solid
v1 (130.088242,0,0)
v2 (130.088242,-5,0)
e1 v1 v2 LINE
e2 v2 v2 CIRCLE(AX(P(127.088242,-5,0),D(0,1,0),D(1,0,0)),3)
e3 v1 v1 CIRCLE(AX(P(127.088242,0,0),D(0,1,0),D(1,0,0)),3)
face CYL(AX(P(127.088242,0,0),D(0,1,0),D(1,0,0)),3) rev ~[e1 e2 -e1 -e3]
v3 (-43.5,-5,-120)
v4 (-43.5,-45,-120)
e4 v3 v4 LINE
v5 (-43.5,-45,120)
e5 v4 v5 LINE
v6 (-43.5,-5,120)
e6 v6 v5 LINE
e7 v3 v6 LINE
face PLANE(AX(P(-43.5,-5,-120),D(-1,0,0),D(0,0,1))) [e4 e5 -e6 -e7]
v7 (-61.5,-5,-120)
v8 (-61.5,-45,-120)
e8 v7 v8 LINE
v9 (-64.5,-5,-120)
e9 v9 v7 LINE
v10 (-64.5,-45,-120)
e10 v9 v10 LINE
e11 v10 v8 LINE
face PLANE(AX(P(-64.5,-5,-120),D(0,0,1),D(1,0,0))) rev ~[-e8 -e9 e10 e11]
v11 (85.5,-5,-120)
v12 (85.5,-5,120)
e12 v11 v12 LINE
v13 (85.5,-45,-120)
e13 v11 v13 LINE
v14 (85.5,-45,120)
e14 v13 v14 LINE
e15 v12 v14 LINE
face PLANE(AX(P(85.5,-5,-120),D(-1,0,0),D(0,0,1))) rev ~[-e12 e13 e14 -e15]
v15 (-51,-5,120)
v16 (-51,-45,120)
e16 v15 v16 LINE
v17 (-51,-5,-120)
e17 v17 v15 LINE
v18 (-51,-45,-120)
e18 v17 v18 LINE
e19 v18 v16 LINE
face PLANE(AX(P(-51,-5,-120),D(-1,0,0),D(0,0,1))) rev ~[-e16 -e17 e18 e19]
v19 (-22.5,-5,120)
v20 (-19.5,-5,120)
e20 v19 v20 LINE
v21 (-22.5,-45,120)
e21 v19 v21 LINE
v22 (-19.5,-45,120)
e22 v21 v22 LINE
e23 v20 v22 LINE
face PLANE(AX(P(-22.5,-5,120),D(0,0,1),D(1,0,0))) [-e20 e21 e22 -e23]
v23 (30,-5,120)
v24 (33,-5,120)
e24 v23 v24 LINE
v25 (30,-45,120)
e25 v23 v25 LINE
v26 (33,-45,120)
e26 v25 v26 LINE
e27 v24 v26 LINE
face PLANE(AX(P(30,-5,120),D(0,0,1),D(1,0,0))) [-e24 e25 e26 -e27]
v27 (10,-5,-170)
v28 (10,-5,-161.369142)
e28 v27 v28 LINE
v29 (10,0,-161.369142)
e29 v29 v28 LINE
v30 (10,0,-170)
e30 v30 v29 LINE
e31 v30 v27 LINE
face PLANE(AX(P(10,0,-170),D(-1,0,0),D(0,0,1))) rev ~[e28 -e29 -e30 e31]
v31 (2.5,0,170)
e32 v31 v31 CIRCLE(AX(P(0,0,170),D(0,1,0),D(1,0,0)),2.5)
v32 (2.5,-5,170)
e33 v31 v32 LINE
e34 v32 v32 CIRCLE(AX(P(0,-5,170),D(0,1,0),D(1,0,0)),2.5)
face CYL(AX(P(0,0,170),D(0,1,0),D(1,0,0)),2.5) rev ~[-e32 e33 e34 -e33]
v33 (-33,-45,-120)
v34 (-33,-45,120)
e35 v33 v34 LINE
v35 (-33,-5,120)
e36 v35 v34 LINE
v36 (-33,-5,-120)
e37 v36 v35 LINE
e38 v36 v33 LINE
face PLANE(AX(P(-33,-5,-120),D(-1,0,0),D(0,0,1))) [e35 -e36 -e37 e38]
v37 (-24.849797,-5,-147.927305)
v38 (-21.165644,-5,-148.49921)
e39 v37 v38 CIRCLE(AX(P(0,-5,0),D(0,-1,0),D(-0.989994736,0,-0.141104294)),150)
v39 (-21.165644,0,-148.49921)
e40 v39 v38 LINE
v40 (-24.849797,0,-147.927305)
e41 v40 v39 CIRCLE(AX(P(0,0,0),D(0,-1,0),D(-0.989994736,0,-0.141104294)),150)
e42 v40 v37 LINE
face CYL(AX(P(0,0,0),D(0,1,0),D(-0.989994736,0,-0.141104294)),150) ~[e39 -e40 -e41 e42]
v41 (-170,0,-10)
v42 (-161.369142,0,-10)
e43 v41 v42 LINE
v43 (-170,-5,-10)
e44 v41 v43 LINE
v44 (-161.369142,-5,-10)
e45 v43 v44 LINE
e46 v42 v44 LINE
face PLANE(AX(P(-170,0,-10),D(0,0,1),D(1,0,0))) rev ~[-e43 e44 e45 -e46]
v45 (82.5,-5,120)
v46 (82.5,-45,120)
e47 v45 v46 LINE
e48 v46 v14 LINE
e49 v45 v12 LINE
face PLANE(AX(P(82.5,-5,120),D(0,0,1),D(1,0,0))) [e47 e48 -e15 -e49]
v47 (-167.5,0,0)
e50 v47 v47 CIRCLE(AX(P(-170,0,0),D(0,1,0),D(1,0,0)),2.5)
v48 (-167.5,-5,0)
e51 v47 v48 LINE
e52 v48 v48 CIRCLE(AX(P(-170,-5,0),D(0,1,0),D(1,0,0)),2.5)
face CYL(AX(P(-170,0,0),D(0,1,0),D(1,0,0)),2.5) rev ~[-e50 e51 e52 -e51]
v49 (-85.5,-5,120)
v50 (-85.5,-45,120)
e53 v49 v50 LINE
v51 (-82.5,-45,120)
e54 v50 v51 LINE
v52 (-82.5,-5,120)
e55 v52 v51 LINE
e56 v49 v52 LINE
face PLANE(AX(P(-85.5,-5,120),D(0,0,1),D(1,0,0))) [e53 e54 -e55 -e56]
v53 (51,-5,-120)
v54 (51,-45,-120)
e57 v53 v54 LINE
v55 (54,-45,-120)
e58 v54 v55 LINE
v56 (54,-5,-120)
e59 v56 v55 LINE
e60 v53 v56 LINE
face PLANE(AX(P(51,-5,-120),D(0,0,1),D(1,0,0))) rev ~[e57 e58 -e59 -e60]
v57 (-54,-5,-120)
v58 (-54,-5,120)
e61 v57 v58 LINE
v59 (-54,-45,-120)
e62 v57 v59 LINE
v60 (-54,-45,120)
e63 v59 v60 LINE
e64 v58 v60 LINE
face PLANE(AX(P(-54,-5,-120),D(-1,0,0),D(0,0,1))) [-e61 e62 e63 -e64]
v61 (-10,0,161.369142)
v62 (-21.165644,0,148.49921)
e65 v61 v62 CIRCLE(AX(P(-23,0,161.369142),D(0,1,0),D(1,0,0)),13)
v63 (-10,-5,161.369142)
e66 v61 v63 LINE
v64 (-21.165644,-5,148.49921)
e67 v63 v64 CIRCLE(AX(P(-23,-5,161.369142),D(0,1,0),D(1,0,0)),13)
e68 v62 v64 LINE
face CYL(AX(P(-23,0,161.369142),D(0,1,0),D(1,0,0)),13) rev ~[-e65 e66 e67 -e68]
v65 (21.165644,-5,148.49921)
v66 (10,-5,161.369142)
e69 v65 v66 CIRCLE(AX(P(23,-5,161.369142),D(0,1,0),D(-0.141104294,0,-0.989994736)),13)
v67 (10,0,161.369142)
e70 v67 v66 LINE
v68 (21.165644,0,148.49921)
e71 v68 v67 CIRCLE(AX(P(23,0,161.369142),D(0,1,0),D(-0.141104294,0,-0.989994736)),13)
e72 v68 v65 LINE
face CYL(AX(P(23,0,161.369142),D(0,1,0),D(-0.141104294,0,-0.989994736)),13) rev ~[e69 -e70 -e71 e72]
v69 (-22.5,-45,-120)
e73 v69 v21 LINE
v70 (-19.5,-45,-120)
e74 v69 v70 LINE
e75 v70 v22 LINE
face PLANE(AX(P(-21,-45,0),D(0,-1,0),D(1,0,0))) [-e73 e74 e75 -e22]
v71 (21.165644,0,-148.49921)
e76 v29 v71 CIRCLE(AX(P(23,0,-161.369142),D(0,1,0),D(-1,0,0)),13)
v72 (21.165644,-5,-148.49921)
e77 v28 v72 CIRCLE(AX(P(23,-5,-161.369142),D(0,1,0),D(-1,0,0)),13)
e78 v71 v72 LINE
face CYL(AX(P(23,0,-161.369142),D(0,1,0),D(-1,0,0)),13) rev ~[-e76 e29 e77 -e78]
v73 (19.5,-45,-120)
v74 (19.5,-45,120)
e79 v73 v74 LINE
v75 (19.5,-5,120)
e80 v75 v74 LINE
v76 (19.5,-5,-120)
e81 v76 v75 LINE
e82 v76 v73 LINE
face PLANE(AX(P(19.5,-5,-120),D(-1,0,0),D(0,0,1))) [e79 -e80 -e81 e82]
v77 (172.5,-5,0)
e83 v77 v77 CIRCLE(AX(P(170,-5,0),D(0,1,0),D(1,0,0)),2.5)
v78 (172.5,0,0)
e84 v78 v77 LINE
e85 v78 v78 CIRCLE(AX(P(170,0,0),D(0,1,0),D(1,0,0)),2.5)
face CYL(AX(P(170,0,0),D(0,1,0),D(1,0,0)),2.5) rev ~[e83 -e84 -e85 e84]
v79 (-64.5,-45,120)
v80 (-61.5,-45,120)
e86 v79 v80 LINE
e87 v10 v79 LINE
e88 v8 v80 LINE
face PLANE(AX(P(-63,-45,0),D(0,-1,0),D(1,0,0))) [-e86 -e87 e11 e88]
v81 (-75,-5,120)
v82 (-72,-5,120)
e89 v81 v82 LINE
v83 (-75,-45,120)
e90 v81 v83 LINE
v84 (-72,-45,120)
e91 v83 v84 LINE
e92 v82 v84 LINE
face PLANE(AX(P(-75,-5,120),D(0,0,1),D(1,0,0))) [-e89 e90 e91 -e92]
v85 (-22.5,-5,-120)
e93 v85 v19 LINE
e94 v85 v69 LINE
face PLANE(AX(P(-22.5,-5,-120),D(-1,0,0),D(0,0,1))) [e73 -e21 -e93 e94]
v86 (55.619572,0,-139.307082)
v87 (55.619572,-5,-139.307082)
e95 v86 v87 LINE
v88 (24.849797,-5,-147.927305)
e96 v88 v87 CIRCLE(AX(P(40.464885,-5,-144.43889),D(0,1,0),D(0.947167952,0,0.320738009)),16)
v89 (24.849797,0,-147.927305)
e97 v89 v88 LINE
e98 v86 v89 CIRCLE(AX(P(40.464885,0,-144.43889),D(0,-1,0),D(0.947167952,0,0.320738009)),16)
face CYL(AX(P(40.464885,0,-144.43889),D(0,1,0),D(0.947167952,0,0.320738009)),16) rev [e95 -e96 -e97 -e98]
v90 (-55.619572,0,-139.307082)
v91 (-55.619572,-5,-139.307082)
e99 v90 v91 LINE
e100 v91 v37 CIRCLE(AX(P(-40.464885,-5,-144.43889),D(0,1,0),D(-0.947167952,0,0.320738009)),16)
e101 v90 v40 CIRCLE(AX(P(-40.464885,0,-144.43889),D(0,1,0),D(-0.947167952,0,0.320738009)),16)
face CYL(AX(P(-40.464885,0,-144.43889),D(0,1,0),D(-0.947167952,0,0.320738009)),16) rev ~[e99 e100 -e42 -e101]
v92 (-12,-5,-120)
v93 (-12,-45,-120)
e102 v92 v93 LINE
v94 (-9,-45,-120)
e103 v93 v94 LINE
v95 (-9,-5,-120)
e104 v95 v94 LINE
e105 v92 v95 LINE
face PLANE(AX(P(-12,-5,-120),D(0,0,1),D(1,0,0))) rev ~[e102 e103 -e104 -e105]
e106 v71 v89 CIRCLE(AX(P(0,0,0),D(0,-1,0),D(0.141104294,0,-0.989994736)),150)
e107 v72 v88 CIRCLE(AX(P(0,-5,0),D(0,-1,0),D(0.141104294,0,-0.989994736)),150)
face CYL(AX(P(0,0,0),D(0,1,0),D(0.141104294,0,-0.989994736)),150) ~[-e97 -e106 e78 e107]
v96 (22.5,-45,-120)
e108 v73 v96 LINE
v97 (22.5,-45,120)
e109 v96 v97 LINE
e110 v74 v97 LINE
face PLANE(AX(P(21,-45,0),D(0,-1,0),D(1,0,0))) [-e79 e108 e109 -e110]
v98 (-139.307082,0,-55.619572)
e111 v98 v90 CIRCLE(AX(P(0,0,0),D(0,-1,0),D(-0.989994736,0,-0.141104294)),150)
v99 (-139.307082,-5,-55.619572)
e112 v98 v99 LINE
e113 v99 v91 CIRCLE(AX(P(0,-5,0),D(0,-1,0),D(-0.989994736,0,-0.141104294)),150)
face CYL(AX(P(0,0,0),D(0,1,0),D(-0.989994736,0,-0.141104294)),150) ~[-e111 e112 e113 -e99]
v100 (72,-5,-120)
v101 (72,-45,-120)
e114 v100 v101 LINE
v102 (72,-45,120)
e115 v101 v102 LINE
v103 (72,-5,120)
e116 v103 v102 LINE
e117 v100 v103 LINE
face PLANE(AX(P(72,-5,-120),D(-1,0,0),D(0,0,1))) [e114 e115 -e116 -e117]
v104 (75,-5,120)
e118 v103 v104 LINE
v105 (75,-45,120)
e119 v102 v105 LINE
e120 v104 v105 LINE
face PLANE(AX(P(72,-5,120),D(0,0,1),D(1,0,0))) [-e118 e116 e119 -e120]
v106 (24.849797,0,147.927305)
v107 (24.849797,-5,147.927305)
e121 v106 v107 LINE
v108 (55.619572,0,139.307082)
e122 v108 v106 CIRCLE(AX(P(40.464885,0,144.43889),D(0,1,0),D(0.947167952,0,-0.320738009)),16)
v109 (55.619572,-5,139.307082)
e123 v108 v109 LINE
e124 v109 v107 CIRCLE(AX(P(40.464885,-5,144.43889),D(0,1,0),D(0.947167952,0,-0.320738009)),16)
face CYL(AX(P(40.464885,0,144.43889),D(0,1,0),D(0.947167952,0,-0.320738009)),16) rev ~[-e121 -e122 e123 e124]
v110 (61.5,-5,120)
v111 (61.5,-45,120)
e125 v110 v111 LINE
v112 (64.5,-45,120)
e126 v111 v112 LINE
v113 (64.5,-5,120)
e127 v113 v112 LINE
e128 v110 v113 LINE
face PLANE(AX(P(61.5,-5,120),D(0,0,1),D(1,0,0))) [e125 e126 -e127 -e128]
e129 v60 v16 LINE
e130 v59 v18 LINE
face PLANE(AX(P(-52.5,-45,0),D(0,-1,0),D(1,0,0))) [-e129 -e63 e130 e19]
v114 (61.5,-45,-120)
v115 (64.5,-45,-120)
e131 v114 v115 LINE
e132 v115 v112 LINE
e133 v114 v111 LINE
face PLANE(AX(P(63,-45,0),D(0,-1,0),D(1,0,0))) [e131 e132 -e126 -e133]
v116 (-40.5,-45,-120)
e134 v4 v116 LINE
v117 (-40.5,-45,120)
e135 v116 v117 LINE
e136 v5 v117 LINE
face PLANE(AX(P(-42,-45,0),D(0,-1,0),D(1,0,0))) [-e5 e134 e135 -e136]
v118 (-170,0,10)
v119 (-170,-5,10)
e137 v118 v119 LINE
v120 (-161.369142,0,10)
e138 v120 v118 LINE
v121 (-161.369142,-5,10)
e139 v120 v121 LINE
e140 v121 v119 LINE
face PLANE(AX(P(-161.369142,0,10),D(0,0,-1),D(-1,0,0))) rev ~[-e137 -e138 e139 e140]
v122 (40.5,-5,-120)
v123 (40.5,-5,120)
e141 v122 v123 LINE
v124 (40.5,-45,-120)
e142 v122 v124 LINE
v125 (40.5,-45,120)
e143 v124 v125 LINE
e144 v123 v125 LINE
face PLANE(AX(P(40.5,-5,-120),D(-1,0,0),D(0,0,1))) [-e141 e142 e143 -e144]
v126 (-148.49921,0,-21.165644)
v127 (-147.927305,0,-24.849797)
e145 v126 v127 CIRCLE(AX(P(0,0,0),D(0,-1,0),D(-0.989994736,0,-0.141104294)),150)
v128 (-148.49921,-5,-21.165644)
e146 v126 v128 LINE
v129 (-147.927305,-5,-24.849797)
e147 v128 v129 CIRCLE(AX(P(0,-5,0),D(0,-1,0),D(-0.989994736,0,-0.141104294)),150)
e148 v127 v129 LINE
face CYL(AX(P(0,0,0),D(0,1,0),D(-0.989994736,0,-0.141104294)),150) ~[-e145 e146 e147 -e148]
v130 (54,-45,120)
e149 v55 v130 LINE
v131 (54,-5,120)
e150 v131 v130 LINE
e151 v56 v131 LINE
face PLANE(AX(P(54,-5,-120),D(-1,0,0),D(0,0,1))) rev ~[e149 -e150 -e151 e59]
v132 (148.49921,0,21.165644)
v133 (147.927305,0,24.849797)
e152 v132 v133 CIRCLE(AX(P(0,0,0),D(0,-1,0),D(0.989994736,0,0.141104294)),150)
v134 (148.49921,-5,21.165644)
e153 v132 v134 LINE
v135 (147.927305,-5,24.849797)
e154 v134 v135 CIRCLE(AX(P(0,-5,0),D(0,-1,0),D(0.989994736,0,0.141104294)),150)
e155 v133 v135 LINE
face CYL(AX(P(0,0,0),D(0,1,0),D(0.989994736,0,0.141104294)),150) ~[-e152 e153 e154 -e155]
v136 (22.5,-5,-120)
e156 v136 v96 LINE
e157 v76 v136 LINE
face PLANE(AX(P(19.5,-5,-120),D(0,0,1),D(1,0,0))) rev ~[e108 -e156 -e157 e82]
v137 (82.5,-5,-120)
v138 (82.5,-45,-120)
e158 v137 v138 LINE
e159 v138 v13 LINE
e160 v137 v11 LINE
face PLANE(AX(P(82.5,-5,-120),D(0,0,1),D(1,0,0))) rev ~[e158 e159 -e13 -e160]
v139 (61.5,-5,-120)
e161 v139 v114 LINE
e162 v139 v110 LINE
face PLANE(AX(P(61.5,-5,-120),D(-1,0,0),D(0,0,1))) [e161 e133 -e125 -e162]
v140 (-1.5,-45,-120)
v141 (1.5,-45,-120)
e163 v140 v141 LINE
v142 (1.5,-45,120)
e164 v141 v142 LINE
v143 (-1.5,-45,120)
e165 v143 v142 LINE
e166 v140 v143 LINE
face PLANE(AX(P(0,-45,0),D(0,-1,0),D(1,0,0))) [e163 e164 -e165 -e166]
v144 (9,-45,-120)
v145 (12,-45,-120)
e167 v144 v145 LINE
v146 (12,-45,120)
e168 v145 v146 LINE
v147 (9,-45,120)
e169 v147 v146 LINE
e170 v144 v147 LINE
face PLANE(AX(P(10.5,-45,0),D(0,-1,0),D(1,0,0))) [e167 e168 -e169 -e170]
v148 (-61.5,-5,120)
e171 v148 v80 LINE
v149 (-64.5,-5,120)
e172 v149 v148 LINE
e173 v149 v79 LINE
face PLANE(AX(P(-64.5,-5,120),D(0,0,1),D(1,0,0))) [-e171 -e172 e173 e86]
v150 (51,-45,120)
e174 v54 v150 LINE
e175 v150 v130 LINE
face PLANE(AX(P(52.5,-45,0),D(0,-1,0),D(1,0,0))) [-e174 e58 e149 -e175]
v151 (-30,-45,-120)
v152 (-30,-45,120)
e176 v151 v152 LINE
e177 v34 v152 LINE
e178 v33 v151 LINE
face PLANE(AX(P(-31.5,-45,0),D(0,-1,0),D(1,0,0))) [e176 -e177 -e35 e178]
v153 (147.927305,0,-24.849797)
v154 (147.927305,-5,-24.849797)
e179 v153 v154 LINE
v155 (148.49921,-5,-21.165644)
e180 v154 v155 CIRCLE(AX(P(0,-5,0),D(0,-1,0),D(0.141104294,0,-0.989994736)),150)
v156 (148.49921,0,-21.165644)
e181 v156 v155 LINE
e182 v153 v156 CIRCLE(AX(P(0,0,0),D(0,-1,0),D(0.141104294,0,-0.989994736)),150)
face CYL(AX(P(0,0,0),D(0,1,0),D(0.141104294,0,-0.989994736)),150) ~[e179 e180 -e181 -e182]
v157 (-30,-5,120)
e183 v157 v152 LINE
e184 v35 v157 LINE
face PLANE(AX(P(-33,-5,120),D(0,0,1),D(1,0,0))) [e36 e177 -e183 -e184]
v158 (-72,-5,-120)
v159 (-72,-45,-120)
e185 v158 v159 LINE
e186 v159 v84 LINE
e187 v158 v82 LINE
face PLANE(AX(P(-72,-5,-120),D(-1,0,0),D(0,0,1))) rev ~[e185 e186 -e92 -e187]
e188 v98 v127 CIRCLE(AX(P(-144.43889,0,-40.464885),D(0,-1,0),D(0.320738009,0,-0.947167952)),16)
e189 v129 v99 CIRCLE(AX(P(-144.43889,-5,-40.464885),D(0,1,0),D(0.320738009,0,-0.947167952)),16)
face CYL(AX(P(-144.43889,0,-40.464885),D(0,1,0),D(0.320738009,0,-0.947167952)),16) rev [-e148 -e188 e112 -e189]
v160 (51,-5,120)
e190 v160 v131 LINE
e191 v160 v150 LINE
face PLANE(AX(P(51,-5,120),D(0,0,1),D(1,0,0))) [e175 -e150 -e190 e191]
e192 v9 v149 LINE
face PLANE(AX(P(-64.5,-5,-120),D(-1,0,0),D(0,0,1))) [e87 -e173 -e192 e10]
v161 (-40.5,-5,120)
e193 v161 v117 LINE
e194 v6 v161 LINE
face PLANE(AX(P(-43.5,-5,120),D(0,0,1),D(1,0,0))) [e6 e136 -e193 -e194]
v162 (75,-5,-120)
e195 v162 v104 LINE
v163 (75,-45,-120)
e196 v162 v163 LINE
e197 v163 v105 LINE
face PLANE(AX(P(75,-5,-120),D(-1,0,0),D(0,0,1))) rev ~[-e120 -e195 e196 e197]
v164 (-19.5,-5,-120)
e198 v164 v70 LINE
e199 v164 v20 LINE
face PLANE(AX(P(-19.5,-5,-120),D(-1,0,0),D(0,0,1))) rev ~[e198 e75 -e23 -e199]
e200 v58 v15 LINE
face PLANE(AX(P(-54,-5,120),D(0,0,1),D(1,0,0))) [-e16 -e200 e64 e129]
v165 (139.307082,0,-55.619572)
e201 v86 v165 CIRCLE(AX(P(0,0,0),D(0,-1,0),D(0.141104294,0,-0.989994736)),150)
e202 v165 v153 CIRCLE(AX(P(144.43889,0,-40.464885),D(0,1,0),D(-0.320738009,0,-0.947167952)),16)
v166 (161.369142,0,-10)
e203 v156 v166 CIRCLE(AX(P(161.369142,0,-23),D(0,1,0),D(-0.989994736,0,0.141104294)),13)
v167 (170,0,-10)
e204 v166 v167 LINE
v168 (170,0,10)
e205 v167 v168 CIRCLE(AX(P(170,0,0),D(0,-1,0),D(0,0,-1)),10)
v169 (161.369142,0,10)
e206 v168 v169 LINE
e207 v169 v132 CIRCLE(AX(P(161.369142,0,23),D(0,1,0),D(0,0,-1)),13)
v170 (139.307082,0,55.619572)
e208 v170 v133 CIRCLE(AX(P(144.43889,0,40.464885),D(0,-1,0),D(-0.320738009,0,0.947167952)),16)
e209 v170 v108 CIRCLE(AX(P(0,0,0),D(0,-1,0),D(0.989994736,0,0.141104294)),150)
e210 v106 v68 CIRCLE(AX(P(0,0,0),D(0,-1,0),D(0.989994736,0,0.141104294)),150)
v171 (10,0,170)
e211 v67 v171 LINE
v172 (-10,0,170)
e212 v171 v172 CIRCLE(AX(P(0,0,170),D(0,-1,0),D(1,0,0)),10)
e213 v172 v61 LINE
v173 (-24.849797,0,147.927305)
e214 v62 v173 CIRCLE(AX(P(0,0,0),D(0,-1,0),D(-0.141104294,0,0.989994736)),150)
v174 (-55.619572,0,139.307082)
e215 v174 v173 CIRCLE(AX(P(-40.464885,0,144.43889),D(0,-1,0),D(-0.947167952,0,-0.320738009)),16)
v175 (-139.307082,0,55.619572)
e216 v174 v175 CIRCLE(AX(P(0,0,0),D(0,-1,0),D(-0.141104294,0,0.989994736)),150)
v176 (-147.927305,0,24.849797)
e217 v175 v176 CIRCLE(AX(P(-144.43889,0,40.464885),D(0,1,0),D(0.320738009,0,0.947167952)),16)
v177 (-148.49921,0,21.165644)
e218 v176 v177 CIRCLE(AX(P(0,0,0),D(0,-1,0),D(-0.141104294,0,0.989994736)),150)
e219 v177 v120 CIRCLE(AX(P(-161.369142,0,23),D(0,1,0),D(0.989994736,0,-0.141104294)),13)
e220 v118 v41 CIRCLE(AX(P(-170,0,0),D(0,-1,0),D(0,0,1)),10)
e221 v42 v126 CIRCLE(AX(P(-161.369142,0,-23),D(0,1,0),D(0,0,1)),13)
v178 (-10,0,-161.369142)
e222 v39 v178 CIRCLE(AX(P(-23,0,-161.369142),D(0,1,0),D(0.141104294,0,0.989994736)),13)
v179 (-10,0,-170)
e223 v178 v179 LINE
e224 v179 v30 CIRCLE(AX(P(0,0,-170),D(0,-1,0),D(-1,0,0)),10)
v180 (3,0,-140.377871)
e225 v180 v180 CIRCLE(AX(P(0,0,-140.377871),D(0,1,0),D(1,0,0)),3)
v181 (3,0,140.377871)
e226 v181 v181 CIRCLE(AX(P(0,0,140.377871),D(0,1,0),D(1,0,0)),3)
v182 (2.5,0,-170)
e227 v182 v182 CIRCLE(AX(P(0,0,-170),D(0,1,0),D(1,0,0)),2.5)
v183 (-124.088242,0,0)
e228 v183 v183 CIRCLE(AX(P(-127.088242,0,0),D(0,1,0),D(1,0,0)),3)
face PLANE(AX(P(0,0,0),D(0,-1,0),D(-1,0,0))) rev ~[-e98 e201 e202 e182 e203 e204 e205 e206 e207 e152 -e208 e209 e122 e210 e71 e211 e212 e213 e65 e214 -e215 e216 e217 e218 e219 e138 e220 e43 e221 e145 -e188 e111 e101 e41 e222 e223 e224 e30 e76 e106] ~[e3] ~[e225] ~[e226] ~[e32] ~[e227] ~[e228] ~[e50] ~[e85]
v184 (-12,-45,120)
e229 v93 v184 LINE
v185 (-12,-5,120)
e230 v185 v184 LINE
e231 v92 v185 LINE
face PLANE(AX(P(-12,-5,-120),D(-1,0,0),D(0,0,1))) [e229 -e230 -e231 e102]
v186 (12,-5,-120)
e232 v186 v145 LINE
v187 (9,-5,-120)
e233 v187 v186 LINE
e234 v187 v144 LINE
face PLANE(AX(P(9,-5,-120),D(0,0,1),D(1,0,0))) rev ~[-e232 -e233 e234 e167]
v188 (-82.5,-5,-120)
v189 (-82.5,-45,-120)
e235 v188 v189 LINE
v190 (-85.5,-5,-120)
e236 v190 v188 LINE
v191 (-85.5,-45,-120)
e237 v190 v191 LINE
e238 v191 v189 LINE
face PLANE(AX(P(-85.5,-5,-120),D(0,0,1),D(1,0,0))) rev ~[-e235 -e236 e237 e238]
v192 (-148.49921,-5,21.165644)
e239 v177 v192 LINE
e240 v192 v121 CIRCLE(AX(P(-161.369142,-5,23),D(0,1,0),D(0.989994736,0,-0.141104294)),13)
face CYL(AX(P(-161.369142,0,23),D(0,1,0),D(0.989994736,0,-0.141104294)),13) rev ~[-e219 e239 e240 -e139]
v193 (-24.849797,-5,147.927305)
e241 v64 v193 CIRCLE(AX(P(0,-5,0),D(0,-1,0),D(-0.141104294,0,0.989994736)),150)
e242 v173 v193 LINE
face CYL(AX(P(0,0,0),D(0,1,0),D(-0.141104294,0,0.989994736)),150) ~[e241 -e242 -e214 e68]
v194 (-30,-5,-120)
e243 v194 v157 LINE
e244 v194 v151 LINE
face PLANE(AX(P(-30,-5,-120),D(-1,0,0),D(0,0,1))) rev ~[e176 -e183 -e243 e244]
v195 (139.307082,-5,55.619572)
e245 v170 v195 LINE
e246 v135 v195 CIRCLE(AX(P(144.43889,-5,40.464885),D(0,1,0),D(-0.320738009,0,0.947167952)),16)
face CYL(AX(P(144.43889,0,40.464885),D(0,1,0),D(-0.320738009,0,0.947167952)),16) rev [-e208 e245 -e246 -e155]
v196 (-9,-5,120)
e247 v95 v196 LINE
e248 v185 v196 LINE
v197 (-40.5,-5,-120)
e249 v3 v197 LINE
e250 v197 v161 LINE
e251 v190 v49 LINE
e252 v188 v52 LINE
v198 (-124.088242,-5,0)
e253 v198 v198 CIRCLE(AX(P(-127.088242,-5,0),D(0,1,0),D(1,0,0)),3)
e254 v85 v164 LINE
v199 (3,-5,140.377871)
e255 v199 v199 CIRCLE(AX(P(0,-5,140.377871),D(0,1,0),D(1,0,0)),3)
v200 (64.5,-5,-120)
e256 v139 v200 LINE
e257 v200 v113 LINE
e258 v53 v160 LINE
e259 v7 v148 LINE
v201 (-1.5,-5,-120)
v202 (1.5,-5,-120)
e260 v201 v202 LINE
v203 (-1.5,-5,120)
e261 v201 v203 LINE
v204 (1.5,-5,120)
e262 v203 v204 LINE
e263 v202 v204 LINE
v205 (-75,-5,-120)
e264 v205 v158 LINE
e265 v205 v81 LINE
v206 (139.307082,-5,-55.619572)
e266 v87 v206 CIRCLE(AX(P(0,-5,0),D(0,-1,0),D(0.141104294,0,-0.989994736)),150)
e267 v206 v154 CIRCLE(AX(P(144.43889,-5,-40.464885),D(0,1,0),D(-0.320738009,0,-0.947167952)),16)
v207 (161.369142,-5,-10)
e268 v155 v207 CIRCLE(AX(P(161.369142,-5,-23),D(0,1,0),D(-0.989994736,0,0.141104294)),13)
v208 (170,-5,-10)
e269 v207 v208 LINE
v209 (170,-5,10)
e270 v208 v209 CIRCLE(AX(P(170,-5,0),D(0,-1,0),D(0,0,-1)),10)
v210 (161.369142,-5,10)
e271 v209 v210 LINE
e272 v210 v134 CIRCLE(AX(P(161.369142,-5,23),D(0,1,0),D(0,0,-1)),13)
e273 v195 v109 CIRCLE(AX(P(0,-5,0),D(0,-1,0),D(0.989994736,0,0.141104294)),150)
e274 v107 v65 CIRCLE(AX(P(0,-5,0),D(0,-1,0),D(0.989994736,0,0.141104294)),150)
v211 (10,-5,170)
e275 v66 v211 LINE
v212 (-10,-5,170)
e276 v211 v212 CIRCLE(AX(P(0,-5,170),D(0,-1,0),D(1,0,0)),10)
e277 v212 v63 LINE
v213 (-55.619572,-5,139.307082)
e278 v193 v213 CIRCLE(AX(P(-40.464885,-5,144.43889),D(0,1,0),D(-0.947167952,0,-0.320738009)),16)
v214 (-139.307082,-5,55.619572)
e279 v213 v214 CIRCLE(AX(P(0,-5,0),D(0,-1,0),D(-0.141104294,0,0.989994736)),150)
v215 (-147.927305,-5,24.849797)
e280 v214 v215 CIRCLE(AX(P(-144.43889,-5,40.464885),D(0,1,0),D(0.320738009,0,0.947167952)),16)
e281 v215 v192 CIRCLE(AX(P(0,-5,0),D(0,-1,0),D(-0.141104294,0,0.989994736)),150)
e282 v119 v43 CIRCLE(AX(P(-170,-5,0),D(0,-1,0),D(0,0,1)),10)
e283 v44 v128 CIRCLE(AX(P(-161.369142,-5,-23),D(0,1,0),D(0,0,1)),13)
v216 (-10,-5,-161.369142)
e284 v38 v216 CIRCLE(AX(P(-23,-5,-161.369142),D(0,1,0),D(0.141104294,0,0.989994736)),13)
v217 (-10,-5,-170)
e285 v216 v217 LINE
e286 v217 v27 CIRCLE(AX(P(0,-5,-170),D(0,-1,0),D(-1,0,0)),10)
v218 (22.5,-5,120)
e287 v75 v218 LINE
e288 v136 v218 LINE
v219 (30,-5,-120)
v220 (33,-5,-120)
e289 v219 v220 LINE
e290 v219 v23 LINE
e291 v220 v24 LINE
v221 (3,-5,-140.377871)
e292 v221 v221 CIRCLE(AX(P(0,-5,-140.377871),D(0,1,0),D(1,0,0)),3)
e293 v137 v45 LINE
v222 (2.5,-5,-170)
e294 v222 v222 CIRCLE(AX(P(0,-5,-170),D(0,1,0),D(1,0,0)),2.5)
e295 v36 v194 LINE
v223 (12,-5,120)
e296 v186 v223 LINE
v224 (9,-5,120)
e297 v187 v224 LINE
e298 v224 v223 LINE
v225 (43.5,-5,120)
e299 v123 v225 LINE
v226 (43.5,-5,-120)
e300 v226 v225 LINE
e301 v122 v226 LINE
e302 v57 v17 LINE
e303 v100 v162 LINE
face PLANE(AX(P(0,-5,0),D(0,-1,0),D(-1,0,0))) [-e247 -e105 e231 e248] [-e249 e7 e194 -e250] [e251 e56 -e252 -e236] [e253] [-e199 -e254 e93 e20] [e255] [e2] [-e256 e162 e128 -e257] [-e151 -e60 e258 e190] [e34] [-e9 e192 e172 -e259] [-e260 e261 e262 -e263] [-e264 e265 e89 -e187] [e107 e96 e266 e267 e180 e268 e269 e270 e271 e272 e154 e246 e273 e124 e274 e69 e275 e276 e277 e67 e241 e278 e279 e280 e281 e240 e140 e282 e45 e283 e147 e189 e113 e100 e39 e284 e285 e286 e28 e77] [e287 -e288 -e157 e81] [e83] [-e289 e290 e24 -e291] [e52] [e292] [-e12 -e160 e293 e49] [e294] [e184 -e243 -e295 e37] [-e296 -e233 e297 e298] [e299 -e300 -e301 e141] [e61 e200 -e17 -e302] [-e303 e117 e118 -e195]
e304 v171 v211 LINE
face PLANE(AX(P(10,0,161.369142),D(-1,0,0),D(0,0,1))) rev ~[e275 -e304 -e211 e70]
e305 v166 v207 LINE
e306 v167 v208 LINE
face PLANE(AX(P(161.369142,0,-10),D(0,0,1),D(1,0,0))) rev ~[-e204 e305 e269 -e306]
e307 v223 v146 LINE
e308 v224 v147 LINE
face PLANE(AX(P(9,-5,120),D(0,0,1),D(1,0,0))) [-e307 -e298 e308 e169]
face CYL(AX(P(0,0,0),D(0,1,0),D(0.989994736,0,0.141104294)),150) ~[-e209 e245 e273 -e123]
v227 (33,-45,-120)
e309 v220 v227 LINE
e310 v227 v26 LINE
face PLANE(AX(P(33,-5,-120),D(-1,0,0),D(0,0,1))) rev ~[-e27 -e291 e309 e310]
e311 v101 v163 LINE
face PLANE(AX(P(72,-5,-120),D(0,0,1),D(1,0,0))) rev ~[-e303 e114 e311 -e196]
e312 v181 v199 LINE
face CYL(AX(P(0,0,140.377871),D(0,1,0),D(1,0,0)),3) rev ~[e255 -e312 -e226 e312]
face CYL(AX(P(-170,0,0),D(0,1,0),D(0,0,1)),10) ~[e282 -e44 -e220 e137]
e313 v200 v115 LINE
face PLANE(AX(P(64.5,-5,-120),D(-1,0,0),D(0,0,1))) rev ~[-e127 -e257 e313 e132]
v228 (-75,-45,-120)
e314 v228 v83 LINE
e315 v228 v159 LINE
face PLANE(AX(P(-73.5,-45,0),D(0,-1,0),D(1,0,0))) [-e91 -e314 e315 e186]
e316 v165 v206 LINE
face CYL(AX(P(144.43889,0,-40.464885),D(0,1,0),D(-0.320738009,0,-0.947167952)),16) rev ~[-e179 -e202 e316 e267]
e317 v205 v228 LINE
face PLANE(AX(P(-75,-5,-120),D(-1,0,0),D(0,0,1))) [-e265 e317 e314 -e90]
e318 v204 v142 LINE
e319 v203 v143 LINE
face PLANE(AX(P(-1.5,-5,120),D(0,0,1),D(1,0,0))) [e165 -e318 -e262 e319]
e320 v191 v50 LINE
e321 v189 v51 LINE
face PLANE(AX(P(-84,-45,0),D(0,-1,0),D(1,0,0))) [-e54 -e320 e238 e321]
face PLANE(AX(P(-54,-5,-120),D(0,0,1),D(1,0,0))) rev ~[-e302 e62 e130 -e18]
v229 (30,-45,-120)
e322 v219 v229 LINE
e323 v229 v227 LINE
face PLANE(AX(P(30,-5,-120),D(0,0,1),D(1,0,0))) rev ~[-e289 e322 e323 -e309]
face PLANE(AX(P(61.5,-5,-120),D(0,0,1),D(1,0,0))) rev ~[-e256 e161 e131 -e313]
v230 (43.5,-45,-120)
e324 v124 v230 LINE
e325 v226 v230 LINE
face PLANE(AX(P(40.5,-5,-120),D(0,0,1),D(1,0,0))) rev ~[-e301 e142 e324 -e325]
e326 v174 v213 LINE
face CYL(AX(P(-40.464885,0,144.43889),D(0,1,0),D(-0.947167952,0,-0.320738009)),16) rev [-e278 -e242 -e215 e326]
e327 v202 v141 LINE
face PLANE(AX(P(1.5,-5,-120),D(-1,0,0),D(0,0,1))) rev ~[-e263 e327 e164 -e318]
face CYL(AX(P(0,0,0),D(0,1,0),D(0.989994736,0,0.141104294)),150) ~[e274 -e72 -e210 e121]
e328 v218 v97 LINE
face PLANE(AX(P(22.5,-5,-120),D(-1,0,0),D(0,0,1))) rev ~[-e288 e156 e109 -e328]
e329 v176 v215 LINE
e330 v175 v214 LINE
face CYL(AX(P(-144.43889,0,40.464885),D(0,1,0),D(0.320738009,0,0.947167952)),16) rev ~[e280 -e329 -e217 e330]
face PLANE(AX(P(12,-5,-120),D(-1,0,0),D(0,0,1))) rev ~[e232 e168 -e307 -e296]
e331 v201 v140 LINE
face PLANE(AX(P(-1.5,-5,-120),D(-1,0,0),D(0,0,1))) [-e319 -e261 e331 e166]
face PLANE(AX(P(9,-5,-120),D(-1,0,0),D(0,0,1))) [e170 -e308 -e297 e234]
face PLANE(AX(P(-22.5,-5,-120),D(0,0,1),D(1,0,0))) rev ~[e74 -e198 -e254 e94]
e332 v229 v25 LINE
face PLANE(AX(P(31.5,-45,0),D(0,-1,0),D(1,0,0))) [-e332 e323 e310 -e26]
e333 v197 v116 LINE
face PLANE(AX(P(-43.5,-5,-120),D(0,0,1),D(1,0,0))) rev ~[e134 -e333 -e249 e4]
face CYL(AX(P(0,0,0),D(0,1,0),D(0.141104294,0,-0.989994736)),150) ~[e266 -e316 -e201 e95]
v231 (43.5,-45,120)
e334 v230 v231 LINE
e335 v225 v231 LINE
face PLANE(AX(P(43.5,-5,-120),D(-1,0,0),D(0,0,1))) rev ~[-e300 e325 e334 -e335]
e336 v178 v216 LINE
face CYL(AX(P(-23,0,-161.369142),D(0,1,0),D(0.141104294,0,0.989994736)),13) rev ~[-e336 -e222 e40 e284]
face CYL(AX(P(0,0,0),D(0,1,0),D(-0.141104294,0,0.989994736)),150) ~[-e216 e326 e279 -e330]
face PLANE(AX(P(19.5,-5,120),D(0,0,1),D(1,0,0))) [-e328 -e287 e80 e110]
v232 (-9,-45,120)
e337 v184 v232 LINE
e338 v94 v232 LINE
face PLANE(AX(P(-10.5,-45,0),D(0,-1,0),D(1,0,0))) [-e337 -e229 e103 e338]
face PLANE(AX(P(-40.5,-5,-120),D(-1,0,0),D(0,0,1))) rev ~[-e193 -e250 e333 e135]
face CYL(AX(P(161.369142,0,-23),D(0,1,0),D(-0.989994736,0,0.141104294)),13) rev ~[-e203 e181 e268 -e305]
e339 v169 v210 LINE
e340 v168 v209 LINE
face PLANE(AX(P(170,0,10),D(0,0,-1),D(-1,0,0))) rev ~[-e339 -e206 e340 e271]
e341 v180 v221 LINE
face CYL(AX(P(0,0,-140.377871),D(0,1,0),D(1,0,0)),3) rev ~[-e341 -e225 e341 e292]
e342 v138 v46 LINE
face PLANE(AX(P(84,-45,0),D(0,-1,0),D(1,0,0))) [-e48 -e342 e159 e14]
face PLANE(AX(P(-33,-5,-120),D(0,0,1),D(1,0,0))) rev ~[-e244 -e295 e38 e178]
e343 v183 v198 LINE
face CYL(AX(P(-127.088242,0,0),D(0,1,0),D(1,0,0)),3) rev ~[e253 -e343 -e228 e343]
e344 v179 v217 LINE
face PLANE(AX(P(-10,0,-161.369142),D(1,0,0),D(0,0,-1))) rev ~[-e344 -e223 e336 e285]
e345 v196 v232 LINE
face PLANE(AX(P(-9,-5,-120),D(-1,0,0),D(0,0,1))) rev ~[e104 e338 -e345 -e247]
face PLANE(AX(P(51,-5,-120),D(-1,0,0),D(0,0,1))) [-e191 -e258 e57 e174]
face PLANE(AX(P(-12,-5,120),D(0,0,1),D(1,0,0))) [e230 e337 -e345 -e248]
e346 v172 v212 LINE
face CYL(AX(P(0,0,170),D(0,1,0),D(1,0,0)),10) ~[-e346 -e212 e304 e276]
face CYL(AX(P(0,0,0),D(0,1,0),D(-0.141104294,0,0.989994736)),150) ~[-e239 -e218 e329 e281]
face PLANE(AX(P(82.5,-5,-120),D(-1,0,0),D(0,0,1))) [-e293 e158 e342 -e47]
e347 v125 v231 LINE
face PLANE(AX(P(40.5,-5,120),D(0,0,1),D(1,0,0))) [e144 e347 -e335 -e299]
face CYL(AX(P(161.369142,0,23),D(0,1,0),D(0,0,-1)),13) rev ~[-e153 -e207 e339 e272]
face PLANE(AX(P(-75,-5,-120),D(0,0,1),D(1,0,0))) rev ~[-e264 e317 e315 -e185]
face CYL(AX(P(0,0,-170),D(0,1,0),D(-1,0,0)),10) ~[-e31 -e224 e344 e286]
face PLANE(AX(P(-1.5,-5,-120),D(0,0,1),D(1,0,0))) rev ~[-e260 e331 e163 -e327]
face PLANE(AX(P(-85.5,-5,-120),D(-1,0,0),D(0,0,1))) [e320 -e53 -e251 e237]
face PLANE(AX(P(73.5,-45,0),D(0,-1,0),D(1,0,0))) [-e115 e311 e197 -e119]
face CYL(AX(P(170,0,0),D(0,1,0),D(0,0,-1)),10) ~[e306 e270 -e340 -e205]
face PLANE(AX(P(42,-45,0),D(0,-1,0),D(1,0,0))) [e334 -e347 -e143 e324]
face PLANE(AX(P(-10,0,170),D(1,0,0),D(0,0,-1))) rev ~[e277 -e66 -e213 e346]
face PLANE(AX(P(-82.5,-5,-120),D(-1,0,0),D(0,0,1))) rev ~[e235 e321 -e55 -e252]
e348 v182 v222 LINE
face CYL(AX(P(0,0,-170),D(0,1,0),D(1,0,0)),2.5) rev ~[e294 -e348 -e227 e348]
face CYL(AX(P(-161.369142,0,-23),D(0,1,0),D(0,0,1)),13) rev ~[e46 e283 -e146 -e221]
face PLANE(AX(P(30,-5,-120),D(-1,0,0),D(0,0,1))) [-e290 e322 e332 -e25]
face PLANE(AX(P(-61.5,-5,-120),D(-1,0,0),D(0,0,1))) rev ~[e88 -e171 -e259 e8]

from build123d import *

# Parameters (mm, degrees)
SKETCH3_R           = 2.5
BOSS_EXTRUDE4_DEPTH = 5
SKETCH4_W           = 3
SKETCH4_H           = 240
BOSS_EXTRUDE5_DEPTH = 40
SKETCH7_R           = 3
CUT_EXTRUDE1_DEPTH  = 10
CUT_EXTRUDE2_DEPTH  = 10


with BuildPart() as part:
    # Sketch3 → Boss-Extrude4 (new body)
    with BuildSketch(Plane(origin=(0, 0, 0), x_dir=(1, 0, 0), z_dir=(0, 1, 0))):
        with BuildLine():
            Line((161.369142032, 10), (170, 10))
            ThreePointArc((170, 10), (180, 0), (170, -10))
            Line((170, -10), (161.369142032, -10))
            ThreePointArc((161.369142032, -10), (152.849946816, -13.180462695), (148.499210458, -21.165644172))
            ThreePointArc((148.499210458, -21.165644172), (106.066017178, -106.066017178), (21.165644172, -148.499210458))
            ThreePointArc((21.165644172, -148.499210458), (13.180462695, -152.849946816), (10, -161.369142032))
            Line((10, -161.369142032), (10, -170))
            ThreePointArc((10, -170), (0, -180), (-10, -170))
            Line((-10, -170), (-10, -161.369142032))
            ThreePointArc((-10, -161.369142032), (-13.180462695, -152.849946816), (-21.165644172, -148.499210458))
            ThreePointArc((-21.165644172, -148.499210458), (-106.066017178, -106.066017178), (-148.499210458, -21.165644172))
            ThreePointArc((-148.499210458, -21.165644172), (-152.849946816, -13.180462695), (-161.369142032, -10))
            Line((-161.369142032, -10), (-170, -10))
            ThreePointArc((-170, -10), (-180, 0), (-170, 10))
            Line((-170, 10), (-161.369142032, 10))
            ThreePointArc((-161.369142032, 10), (-152.849946816, 13.180462695), (-148.499210458, 21.165644172))
            ThreePointArc((-148.499210458, 21.165644172), (-106.066017178, 106.066017178), (-21.165644172, 148.499210458))
            ThreePointArc((-21.165644172, 148.499210458), (-13.180462695, 152.849946816), (-10, 161.369142032))
            Line((-10, 161.369142032), (-10, 170))
            ThreePointArc((-10, 170), (0, 180), (10, 170))
            Line((10, 170), (10, 161.369142032))
            ThreePointArc((10, 161.369142032), (13.180462695, 152.849946816), (21.165644172, 148.499210458))
            ThreePointArc((21.165644172, 148.499210458), (106.066017178, 106.066017178), (148.499210458, 21.165644172))
            ThreePointArc((148.499210458, 21.165644172), (152.849946816, 13.180462695), (161.369142032, 10))
        make_face()
        with Locations((0, 170)):
            Circle(SKETCH3_R, mode=Mode.SUBTRACT)
        with Locations((170, 0)):
            Circle(SKETCH3_R, mode=Mode.SUBTRACT)
        with Locations((0, -170)):
            Circle(SKETCH3_R, mode=Mode.SUBTRACT)
        with Locations((-170, 0)):
            Circle(SKETCH3_R, mode=Mode.SUBTRACT)
    extrude(amount=-BOSS_EXTRUDE4_DEPTH)

    # Sketch4 → Boss-Extrude5 (add)
    with BuildSketch(Plane.XZ.offset(5)):
        Rectangle(SKETCH4_W, SKETCH4_H)
        with Locations((10.5, 0)):
            Rectangle(SKETCH4_W, SKETCH4_H)
        with Locations((21, 0)):
            Rectangle(SKETCH4_W, SKETCH4_H)
        with Locations((31.5, 0)):
            Rectangle(SKETCH4_W, SKETCH4_H)
        with Locations((42, 0)):
            Rectangle(SKETCH4_W, SKETCH4_H)
        with Locations((52.5, 0)):
            Rectangle(SKETCH4_W, SKETCH4_H)
        with Locations((63, 0)):
            Rectangle(SKETCH4_W, SKETCH4_H)
        with Locations((73.5, 0)):
            Rectangle(SKETCH4_W, SKETCH4_H)
        with Locations((84, 0)):
            Rectangle(SKETCH4_W, SKETCH4_H)
        with Locations((-84, 0)):
            Rectangle(SKETCH4_W, SKETCH4_H)
        with Locations((-73.5, 0)):
            Rectangle(SKETCH4_W, SKETCH4_H)
        with Locations((-63, 0)):
            Rectangle(SKETCH4_W, SKETCH4_H)
        with Locations((-52.5, 0)):
            Rectangle(SKETCH4_W, SKETCH4_H)
        with Locations((-42, 0)):
            Rectangle(SKETCH4_W, SKETCH4_H)
        with Locations((-31.5, 0)):
            Rectangle(SKETCH4_W, SKETCH4_H)
        with Locations((-21, 0)):
            Rectangle(SKETCH4_W, SKETCH4_H)
        with Locations((-10.5, 0)):
            Rectangle(SKETCH4_W, SKETCH4_H)
    extrude(amount=BOSS_EXTRUDE5_DEPTH)

    # Sketch7 → Cut-Extrude1 (cut)
    with BuildSketch(Plane(origin=(0, 0, 0), x_dir=(1, 0, 0), z_dir=(0, 1, 0))):
        with Locations((-127.088241501, 0)):
            Circle(SKETCH7_R)
        with Locations((0, 140.377871213)):
            Circle(SKETCH7_R)
        with Locations((0, -140.377871213)):
            Circle(SKETCH7_R)
        with Locations((127.088241501, 0)):
            Circle(SKETCH7_R)
    extrude(amount=-CUT_EXTRUDE1_DEPTH, mode=Mode.SUBTRACT)

    # Sketch8 → Cut-Extrude2 (cut)
    with BuildSketch(Plane(origin=(0, 0, 0), x_dir=(1, 0, 0), z_dir=(0, 1, 0))):
        with BuildLine():
            ThreePointArc((24.849797215, -147.927305047), (40.464884917, -144.438890499), (55.619572151, -139.307082353))
            ThreePointArc((55.619572151, -139.307082353), (36.148630526, -129.032075513), (24.849797215, -147.927305047))
        make_face()
        with BuildLine():
            ThreePointArc((-55.619572151, -139.307082353), (-36.148630526, -129.032075513), (-24.849797215, -147.927305047))
            ThreePointArc((-24.849797215, -147.927305047), (-40.464884917, -144.438890499), (-55.619572151, -139.307082353))
        make_face()
        with BuildLine():
            ThreePointArc((-139.307082353, -55.619572151), (-129.032075513, -36.148630526), (-147.927305047, -24.849797215))
            ThreePointArc((-147.927305047, -24.849797215), (-144.438890499, -40.464884917), (-139.307082353, -55.619572151))
        make_face()
        with BuildLine():
            ThreePointArc((-139.307082353, 55.619572151), (-129.032075513, 36.148630526), (-147.927305047, 24.849797215))
            ThreePointArc((-147.927305047, 24.849797215), (-144.438890499, 40.464884917), (-139.307082353, 55.619572151))
        make_face()
        with BuildLine():
            ThreePointArc((-55.619572151, 139.307082353), (-36.148630526, 129.032075513), (-24.849797215, 147.927305047))
            ThreePointArc((-24.849797215, 147.927305047), (-40.464884917, 144.438890499), (-55.619572151, 139.307082353))
        make_face()
        with BuildLine():
            ThreePointArc((55.619572151, 139.307082353), (36.148630526, 129.032075513), (24.849797215, 147.927305047))
            ThreePointArc((24.849797215, 147.927305047), (40.464884917, 144.438890499), (55.619572151, 139.307082353))
        make_face()
        with BuildLine():
            ThreePointArc((139.307082353, 55.619572151), (129.032075513, 36.148630526), (147.927305047, 24.849797215))
            ThreePointArc((147.927305047, 24.849797215), (144.438890499, 40.464884917), (139.307082353, 55.619572151))
        make_face()
        with BuildLine():
            ThreePointArc((139.307082353, -55.619572151), (129.032075513, -36.148630526), (147.927305047, -24.849797215))
            ThreePointArc((147.927305047, -24.849797215), (144.438890499, -40.464884917), (139.307082353, -55.619572151))
        make_face()
    extrude(amount=-CUT_EXTRUDE2_DEPTH, mode=Mode.SUBTRACT)


solid = part.part
